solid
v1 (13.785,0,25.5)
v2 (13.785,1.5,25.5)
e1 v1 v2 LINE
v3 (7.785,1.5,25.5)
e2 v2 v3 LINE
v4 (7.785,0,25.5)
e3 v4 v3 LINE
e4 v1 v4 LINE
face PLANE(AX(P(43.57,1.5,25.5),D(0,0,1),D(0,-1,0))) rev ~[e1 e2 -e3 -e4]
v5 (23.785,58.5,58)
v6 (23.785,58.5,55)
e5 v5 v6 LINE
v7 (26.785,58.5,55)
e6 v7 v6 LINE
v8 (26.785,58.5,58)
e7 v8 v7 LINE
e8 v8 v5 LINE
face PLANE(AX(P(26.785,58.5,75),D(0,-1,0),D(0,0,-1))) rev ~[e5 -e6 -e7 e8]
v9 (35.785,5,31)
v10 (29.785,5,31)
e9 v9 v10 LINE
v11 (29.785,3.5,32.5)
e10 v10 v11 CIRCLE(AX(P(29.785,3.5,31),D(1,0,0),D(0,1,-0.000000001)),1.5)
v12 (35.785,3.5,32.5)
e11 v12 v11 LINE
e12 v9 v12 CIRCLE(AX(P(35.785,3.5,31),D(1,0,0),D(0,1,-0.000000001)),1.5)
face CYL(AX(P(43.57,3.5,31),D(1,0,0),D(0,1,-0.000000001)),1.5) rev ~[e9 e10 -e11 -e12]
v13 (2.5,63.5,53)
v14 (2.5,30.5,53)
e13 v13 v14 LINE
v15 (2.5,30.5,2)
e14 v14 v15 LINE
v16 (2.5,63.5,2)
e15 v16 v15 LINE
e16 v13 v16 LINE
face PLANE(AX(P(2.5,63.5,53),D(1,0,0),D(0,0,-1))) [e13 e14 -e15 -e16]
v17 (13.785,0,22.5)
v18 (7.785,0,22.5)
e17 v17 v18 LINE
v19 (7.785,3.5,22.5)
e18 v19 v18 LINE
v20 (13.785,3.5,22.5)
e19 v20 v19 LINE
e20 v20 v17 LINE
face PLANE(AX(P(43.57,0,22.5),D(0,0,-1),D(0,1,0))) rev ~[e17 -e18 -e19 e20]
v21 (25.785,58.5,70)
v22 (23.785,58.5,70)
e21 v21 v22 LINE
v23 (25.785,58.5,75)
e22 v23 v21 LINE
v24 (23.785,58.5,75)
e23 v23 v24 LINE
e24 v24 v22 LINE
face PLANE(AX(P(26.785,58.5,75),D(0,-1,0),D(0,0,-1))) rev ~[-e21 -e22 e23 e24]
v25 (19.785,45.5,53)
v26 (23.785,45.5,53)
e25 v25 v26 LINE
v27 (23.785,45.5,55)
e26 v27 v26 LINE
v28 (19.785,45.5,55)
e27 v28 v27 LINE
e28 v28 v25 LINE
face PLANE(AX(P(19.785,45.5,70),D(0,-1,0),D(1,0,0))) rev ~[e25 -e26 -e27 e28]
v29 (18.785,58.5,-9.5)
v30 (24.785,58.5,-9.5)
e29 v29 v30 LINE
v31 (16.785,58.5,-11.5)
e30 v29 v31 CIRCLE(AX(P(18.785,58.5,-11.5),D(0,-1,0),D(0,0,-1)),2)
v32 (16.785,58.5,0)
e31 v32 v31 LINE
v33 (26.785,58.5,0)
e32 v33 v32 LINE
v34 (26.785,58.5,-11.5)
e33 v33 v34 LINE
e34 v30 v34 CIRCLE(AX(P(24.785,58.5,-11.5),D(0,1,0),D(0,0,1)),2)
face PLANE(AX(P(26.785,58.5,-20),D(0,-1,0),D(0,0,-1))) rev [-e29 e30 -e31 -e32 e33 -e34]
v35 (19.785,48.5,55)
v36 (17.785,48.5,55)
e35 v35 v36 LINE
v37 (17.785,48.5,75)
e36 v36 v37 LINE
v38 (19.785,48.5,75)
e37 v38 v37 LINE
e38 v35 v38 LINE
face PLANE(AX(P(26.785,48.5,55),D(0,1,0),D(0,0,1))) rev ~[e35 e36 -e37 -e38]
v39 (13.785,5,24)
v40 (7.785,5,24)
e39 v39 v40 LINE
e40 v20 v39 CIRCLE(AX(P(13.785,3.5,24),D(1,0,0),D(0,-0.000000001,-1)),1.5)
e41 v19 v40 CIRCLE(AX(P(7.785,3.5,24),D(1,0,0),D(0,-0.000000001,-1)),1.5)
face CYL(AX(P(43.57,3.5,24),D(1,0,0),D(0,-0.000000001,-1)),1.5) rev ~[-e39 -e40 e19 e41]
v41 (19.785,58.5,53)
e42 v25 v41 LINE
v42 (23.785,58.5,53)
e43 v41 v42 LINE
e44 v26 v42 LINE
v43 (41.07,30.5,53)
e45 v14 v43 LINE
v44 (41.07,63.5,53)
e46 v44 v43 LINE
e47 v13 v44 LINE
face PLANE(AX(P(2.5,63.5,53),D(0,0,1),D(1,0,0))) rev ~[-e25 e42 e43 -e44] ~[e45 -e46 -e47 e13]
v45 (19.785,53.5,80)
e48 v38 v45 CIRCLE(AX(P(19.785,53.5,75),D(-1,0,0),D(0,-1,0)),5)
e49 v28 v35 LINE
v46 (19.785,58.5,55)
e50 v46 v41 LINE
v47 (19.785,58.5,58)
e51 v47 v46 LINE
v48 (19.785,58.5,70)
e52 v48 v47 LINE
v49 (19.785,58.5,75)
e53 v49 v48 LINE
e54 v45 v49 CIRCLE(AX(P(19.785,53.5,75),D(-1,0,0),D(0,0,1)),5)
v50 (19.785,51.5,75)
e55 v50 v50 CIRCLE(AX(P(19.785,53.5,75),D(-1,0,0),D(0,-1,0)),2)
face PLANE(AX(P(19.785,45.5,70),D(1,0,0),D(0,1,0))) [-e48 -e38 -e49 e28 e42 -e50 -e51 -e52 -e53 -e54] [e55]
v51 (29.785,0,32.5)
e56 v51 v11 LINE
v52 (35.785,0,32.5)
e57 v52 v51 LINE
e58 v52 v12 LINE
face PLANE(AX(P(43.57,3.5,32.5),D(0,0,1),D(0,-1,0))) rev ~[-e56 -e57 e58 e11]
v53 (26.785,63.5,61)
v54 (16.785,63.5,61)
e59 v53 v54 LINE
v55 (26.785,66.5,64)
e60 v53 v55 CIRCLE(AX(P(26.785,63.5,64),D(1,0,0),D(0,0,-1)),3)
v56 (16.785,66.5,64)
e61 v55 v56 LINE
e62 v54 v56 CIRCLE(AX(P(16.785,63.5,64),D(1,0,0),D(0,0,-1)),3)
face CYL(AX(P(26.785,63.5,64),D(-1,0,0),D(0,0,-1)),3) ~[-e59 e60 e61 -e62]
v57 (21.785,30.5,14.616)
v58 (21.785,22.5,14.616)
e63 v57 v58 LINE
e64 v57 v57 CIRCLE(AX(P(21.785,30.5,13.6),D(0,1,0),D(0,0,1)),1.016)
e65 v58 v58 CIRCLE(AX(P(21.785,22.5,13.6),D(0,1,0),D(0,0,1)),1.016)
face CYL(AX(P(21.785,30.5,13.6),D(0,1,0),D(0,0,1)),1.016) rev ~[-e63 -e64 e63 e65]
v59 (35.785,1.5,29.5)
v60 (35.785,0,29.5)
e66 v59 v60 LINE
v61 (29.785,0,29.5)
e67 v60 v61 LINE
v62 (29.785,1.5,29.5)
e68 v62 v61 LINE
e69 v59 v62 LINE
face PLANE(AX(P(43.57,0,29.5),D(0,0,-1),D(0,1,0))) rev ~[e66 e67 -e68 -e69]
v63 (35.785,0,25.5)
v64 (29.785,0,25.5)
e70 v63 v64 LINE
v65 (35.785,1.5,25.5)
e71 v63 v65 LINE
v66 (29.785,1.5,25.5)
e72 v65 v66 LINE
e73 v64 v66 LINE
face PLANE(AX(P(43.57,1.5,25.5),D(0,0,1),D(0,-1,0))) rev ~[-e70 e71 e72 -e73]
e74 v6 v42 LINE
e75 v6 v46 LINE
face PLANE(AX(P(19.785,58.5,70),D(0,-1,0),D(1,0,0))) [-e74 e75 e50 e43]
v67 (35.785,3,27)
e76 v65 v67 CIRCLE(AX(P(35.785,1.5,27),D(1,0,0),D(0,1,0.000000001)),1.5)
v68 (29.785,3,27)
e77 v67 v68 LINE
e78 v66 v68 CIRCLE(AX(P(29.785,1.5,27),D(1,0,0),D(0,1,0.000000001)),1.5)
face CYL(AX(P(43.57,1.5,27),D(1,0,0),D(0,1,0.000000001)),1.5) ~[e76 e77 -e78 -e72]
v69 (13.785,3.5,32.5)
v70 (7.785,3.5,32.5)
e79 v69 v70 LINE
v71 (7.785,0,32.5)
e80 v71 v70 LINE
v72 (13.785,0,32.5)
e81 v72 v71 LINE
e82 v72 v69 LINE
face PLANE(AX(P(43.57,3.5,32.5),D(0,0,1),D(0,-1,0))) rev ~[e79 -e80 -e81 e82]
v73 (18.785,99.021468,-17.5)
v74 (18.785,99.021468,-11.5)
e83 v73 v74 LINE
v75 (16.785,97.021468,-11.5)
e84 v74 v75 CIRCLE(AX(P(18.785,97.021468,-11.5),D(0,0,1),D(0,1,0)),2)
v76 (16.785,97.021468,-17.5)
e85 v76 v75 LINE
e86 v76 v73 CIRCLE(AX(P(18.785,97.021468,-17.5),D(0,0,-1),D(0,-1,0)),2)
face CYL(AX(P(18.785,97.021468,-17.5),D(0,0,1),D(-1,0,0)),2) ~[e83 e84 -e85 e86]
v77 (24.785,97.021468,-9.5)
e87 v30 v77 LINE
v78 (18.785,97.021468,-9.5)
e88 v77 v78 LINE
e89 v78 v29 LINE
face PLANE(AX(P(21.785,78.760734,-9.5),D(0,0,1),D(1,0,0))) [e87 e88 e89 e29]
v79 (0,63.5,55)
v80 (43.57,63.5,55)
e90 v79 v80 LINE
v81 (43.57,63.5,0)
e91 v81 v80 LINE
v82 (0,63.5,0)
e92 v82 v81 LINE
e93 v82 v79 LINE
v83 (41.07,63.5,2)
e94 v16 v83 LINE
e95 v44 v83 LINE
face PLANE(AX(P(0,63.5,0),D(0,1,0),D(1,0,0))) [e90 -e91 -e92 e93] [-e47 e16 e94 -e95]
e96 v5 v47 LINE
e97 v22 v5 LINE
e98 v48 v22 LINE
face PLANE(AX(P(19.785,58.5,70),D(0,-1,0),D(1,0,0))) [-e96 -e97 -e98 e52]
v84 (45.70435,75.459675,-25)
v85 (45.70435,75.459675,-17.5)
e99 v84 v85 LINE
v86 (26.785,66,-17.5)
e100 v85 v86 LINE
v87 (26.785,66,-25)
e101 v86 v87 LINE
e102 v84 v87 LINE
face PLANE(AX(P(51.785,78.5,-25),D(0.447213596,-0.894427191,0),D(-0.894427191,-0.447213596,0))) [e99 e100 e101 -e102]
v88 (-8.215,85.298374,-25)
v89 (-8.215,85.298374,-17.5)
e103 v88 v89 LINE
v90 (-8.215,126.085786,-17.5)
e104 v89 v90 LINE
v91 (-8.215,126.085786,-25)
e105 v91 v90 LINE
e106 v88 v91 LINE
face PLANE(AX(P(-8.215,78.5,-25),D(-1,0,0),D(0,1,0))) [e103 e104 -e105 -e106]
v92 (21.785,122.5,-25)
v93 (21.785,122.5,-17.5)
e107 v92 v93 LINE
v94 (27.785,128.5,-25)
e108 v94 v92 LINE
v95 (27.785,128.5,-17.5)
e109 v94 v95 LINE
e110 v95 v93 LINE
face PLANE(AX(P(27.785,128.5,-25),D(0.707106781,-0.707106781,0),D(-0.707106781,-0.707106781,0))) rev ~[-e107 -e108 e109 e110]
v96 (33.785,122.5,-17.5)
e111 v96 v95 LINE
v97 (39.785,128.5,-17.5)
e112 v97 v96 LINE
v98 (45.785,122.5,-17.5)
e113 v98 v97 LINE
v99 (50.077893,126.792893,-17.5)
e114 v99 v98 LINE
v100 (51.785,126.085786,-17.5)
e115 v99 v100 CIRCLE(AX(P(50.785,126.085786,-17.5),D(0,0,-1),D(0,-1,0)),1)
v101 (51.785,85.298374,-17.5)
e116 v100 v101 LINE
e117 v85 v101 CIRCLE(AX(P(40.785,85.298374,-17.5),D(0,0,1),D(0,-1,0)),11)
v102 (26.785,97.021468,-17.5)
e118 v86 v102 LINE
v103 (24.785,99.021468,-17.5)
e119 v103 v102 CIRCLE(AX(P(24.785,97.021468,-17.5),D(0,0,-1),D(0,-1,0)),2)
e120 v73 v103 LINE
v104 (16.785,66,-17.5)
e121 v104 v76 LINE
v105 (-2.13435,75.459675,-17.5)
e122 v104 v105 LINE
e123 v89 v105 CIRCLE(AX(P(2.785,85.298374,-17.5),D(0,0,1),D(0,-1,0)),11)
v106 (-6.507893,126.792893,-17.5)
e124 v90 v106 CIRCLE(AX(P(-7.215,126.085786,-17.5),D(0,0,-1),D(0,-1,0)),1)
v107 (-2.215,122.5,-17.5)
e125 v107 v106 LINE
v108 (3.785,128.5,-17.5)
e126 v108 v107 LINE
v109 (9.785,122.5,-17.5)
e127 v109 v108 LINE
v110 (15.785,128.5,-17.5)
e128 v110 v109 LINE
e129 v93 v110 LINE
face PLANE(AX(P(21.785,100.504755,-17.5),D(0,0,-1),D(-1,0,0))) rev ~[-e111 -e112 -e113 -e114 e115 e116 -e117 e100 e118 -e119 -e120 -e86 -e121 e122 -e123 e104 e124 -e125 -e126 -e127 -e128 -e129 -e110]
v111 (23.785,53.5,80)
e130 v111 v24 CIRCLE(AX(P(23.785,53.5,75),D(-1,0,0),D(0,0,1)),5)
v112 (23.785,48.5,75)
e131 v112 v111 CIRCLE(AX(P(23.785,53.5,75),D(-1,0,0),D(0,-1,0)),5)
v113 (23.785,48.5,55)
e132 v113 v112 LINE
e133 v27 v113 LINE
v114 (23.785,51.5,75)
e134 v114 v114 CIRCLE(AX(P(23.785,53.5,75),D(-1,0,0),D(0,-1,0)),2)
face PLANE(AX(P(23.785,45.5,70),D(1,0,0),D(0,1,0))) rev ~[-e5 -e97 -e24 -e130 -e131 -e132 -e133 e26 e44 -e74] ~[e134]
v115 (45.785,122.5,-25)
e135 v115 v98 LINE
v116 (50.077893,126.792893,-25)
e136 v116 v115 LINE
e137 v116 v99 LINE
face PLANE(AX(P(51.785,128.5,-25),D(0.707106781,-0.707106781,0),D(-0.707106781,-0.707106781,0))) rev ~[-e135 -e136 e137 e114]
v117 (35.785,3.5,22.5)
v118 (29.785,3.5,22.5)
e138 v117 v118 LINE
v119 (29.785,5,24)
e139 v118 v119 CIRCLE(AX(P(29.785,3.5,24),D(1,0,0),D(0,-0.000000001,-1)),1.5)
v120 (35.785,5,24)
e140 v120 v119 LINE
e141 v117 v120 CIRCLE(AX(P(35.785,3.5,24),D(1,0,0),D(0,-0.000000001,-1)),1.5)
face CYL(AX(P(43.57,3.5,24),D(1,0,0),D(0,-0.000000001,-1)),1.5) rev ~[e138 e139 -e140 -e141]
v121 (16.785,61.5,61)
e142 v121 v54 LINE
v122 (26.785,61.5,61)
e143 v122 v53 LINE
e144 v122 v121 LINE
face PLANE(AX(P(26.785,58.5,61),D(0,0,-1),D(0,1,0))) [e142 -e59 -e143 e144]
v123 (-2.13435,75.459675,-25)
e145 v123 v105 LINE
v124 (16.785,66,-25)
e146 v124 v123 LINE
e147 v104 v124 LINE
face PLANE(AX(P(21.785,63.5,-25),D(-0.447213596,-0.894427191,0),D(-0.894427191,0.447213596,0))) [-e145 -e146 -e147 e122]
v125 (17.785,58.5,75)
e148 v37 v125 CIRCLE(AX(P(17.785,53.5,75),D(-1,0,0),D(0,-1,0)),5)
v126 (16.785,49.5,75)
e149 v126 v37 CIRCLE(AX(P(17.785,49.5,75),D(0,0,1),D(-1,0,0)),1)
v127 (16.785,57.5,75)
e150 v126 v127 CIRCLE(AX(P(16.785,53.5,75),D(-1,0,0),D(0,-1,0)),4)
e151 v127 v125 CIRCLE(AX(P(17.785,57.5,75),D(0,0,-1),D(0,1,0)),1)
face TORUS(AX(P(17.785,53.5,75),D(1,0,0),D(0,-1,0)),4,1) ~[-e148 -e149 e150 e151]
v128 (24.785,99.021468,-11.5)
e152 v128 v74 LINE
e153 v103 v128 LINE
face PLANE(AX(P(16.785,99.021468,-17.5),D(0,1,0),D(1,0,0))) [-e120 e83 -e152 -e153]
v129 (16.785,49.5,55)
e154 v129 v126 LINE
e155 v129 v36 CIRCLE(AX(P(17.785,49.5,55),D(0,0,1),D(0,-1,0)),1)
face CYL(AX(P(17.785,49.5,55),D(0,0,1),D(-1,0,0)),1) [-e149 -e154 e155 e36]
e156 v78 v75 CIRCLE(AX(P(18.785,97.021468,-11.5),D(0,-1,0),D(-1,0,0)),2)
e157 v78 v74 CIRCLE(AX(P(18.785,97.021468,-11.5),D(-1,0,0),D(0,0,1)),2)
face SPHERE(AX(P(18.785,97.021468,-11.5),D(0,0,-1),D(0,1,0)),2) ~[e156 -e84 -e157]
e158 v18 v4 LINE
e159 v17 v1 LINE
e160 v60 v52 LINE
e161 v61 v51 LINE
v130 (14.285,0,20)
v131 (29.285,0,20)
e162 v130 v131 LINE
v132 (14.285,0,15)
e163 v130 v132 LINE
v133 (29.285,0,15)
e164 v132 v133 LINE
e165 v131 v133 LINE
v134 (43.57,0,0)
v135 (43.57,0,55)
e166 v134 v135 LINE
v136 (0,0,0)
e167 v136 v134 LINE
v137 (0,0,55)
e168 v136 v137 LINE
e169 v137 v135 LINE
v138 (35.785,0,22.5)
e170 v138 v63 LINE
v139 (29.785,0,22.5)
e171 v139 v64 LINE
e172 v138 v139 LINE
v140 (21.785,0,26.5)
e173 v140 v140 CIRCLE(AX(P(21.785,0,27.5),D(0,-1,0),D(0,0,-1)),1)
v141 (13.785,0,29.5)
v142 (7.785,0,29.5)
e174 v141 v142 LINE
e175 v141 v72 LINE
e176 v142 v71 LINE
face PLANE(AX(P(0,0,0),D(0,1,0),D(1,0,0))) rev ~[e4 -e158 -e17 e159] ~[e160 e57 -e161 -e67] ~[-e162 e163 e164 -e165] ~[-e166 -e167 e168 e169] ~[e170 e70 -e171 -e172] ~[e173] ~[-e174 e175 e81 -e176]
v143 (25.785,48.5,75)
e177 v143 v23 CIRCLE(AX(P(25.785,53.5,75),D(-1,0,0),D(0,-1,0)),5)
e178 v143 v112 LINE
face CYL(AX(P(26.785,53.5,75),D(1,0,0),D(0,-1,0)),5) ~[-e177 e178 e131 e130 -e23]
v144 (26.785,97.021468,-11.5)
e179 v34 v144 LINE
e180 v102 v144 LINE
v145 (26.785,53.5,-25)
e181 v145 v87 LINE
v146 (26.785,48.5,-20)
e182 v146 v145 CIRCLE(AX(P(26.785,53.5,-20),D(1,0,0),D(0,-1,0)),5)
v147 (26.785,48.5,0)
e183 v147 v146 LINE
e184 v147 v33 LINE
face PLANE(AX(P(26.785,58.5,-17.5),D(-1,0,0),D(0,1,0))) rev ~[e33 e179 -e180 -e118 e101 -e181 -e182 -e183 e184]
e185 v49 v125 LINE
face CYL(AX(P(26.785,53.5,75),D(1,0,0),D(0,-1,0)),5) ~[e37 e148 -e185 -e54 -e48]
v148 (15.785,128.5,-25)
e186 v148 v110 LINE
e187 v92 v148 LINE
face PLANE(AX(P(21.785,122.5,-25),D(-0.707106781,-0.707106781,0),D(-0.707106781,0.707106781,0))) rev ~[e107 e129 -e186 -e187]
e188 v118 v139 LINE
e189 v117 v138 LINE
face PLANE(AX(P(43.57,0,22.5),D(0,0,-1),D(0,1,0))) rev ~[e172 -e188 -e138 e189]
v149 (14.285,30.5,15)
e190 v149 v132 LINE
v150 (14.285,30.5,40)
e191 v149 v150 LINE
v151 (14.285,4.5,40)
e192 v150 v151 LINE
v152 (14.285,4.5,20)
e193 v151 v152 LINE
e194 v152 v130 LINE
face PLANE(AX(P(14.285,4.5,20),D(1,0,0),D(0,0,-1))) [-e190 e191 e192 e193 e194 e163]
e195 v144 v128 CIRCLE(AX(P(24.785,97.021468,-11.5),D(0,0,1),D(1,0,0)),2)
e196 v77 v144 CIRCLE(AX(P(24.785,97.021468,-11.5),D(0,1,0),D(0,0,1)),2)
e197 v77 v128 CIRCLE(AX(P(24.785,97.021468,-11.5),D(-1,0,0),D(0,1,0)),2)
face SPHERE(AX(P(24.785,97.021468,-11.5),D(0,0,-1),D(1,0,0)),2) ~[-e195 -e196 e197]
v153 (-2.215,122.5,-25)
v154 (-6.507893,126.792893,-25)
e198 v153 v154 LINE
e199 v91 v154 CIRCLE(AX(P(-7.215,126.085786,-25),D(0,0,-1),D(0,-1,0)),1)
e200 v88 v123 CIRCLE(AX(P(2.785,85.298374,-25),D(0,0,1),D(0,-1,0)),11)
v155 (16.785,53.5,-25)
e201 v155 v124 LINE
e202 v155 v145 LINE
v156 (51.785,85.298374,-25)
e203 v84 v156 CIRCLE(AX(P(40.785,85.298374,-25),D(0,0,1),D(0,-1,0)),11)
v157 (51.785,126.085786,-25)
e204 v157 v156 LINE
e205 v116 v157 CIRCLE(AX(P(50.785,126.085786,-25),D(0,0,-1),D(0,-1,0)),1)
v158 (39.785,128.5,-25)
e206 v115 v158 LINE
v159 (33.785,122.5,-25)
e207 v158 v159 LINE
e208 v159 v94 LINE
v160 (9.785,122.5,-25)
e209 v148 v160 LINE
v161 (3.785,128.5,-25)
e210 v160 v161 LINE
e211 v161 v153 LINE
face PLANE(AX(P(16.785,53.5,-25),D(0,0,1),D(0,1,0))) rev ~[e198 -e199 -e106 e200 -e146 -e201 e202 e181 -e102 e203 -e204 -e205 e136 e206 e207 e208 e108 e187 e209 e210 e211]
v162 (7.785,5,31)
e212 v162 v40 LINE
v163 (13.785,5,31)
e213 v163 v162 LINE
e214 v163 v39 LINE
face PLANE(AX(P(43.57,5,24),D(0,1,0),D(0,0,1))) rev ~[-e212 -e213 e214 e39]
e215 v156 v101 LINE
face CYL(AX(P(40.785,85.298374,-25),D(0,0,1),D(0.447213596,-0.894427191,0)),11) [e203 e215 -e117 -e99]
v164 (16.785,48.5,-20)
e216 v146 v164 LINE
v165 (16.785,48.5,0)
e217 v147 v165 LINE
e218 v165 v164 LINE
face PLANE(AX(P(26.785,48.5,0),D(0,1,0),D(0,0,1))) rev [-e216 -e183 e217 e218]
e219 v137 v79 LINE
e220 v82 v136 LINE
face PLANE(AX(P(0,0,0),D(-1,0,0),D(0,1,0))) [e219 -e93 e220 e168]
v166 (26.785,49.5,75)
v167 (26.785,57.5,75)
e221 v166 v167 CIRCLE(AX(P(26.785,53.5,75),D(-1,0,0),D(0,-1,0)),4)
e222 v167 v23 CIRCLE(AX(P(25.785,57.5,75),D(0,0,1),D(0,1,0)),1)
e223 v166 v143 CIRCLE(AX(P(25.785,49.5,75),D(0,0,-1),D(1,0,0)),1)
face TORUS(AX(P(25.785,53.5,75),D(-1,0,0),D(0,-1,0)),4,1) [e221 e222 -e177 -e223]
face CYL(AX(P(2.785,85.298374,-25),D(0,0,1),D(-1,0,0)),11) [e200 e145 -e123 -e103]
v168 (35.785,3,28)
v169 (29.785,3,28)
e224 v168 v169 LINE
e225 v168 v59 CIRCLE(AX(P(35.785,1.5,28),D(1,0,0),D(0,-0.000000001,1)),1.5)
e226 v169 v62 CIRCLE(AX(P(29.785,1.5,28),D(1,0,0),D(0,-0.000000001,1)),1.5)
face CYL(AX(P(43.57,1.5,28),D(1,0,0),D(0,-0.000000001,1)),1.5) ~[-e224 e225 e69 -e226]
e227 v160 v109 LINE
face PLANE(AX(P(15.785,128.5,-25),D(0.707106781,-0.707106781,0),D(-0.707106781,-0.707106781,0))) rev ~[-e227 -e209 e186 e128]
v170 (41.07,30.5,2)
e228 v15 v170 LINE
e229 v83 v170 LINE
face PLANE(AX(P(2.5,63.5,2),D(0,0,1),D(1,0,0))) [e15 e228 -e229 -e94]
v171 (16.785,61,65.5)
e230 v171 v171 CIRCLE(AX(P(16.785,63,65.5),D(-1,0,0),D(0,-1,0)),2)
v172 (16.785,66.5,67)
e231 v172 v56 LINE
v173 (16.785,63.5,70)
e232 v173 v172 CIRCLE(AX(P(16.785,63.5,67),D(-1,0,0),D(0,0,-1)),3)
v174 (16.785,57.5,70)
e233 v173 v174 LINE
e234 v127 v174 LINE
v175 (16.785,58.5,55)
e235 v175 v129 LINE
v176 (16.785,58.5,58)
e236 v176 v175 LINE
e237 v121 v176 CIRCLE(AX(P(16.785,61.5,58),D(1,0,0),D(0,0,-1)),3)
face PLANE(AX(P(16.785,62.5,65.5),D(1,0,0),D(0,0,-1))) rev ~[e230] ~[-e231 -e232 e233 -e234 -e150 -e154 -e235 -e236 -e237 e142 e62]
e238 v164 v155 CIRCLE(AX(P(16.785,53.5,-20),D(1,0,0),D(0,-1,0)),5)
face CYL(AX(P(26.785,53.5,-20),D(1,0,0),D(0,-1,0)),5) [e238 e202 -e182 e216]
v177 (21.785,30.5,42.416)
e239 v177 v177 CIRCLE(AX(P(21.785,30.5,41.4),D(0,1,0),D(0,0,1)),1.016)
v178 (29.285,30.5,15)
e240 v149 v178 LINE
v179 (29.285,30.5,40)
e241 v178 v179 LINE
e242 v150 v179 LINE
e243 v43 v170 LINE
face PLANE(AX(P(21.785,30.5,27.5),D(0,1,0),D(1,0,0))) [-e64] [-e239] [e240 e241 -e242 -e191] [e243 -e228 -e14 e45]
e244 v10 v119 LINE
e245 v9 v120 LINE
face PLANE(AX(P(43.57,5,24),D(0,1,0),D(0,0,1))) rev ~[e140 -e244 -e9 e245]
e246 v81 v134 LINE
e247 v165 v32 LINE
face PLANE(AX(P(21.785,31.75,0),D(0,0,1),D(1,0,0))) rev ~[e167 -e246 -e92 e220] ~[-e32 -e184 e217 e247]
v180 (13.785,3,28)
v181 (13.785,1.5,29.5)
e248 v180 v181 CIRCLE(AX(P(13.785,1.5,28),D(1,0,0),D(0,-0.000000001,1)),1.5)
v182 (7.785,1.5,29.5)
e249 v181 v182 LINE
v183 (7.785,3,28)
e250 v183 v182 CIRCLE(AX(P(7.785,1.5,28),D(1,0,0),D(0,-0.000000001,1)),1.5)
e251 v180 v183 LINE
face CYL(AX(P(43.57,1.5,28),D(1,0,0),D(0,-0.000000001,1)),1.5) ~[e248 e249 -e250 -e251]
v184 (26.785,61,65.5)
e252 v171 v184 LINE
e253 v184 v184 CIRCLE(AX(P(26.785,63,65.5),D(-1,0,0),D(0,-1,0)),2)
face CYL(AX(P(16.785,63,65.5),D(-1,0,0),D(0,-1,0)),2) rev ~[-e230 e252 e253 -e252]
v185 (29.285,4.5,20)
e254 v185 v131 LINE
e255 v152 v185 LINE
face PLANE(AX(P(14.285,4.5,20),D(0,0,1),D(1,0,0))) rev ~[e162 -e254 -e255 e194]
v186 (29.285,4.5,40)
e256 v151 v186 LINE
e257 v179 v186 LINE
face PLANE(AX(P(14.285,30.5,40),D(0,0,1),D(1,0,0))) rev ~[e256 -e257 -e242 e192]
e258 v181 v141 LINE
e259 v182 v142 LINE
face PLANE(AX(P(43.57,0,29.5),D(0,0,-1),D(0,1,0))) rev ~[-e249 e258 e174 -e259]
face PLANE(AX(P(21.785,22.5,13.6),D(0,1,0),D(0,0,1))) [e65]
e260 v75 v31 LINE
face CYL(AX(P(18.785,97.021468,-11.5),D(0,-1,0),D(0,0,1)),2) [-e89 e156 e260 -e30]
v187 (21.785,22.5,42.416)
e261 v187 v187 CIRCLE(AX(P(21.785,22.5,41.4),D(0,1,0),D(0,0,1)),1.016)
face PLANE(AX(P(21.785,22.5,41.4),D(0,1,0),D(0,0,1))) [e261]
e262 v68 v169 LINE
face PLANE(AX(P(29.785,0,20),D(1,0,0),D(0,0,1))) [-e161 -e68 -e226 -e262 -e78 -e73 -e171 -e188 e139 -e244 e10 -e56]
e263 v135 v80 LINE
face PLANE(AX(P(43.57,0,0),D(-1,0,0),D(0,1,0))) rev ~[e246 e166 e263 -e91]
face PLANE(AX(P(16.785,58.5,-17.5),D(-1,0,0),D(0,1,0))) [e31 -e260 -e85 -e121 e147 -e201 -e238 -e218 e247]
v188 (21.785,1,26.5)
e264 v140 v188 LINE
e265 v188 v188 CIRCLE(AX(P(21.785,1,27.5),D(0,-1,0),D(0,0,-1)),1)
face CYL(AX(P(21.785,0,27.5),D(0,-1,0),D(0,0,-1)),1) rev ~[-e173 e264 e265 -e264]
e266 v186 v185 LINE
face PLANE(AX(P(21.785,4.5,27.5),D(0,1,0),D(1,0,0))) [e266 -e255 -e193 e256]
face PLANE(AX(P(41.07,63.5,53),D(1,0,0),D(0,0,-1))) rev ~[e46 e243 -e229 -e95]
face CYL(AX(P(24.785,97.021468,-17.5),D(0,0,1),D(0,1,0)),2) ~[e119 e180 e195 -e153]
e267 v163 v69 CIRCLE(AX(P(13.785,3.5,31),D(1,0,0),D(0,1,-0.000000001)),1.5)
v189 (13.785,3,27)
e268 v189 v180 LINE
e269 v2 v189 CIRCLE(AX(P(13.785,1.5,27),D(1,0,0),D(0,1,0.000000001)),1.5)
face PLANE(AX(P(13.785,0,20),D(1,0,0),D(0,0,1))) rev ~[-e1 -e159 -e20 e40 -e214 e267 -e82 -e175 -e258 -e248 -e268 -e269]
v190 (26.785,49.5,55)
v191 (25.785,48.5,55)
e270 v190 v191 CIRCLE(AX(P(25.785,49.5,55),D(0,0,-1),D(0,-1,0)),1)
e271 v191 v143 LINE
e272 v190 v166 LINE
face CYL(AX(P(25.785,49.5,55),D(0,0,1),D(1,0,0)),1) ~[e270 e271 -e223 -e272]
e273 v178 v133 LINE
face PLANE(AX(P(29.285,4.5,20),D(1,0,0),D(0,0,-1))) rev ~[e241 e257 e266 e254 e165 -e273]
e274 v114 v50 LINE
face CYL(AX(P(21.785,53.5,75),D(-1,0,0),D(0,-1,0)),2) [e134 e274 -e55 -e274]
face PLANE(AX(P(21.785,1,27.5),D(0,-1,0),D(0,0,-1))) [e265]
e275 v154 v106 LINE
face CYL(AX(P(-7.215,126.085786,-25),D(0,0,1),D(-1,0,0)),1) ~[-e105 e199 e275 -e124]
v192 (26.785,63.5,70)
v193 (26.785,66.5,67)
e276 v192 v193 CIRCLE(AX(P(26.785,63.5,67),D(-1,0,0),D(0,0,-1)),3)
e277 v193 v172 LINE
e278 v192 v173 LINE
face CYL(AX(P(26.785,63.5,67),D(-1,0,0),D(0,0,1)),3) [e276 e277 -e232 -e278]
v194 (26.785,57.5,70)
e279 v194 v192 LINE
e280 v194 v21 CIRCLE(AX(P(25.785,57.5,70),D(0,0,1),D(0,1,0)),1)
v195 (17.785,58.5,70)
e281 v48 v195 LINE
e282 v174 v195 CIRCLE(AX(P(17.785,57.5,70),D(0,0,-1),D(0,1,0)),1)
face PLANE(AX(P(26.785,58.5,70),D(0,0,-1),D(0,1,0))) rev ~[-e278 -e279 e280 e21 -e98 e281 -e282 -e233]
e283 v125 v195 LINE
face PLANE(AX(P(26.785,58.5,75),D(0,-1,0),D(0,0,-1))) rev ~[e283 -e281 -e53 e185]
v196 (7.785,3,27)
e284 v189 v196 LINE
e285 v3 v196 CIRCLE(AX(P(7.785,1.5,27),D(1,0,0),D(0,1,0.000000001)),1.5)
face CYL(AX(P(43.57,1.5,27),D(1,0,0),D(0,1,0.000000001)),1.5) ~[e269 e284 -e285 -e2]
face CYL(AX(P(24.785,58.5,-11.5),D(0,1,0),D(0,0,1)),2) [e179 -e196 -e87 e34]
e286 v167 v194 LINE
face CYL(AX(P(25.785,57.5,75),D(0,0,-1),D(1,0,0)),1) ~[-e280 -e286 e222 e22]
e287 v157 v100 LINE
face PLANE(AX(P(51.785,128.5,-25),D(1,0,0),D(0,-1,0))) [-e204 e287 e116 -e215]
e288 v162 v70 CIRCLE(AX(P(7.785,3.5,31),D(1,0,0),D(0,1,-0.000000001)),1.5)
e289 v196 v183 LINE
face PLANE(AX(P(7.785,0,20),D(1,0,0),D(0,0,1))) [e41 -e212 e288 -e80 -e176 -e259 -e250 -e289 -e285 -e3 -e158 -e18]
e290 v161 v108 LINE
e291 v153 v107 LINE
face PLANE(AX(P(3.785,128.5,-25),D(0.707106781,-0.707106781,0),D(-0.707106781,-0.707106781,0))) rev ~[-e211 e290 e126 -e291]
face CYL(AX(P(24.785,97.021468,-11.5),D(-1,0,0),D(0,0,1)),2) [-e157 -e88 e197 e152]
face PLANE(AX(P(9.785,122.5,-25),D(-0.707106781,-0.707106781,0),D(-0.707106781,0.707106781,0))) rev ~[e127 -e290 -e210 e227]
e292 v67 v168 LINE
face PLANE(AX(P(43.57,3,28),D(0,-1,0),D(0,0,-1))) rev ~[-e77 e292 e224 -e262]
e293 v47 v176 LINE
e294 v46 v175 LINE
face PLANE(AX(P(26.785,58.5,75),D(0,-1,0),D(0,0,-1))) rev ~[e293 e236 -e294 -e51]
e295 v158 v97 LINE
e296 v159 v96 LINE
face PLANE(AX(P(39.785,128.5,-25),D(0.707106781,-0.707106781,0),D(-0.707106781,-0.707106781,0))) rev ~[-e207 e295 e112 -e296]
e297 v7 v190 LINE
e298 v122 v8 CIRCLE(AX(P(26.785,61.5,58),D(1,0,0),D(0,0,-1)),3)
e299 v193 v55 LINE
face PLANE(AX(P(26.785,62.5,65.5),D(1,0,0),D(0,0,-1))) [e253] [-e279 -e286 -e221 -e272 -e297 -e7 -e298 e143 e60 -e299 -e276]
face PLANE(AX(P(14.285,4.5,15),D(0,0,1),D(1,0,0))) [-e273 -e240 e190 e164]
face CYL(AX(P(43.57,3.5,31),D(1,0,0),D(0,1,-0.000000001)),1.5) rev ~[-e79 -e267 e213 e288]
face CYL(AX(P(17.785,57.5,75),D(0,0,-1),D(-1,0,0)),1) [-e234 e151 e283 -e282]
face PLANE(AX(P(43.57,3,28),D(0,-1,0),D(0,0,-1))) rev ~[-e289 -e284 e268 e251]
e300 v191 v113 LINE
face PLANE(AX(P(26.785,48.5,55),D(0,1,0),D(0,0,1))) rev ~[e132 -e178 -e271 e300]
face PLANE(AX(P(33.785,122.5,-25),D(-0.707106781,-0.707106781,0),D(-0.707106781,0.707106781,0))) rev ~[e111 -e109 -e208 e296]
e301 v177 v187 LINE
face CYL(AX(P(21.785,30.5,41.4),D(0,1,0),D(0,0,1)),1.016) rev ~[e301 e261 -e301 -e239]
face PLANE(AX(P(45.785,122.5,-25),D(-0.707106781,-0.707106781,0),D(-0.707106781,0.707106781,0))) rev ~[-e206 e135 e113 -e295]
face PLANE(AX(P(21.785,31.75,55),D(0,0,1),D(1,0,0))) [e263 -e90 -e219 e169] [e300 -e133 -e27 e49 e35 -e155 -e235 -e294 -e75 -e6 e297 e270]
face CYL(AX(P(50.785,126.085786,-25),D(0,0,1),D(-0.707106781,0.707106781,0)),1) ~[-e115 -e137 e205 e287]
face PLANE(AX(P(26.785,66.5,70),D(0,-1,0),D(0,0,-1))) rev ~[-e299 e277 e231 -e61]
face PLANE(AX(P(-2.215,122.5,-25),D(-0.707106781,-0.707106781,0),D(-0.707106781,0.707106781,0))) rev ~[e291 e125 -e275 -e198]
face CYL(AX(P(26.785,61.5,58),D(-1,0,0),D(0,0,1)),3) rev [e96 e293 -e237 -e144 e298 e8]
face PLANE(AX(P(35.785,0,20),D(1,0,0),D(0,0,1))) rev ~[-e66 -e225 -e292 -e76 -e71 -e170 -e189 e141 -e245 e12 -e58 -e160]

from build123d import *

# Parameters (mm, degrees)
SKETCH1_W           = 43.57
SKETCH1_H           = 63.5
BOSS_EXTRUDE1_DEPTH = 55
CUT_EXTRUDE2_DEPTH  = 95.634004988
SKETCH4_W           = 43.57
SKETCH4_H           = 55
SKETCH4_W_2         = 6
SKETCH4_H_2         = 15
BOSS_EXTRUDE2_DEPTH = 9
SKETCH5_R           = 1
CUT_EXTRUDE3_DEPTH  = 1
BOSS_EXTRUDE3_START = -26.785
BOSS_EXTRUDE3_DEPTH = 10
SKETCH7_R           = 2
CUT_EXTRUDE4_DEPTH  = 2
SKETCH13_W          = 9
SKETCH13_H          = 8
BOSS_EXTRUDE6_DEPTH = 10
FILLET12_R          = 3
FILLET2_R           = 1
BOSS_EXTRUDE4_DEPTH = 10
BOSS_EXTRUDE5_DEPTH = 7.5
CUT_EXTRUDE11_DEPTH = 174.835946297
LPATTERN1_COUNT     = 5
LPATTERN1_PITCH     = 12
FILLET9_R           = 1
FILLET11_R          = 11
SKETCH14_R          = 2
CUT_EXTRUDE12_DEPTH = 156.361674811
SKETCH15_W          = 15
SKETCH15_H          = 33
CUT_EXTRUDE13_DEPTH = 33
SKETCH16_W          = 15
SKETCH16_H          = 25
CUT_EXTRUDE14_DEPTH = 26
SKETCH18_R          = 1.016
CUT_EXTRUDE15_DEPTH = 8
SKETCH19_W          = 15
SKETCH19_H          = 5
CUT_EXTRUDE16_DEPTH = 25
SKETCH20_W          = 38.57
SKETCH20_H          = 51
CUT_EXTRUDE17_DEPTH = 33
SKETCH21_W          = 4
SKETCH21_H          = 13
CUT_EXTRUDE18_DEPTH = 27
SKETCH22_W          = 10
SKETCH22_H          = 40.521468164
BOSS_EXTRUDE7_DEPTH = 8
FILLET13_R          = 2
FILLET14_R          = 2


with BuildPart() as part:
    # Sketch1 → Boss-Extrude1 (new body)
    with BuildSketch(Plane.XY):
        with Locations((21.785, 31.75)):
            Rectangle(SKETCH1_W, SKETCH1_H)
    extrude(amount=BOSS_EXTRUDE1_DEPTH)

    # Sketch3 → Cut-Extrude2 (cut, through all)
    with BuildSketch(Plane(origin=(43.57, 0, 0), x_dir=(0, 0, -1), z_dir=(1, 0, 0))):
        with BuildLine():
            Line((-29.5, 0), (-29.5, 1.5))
            ThreePointArc((-29.5, 1.5), (-29.060660172, 2.560660172), (-28, 3))
            Line((-28, 3), (-27, 3))
            ThreePointArc((-27, 3), (-25.939339828, 2.560660172), (-25.5, 1.5))
            Line((-25.5, 1.5), (-25.5, 0))
            Line((-25.5, 0), (-22.5, 0))
            Line((-22.5, 0), (-22.5, 3.5))
            ThreePointArc((-22.5, 3.5), (-22.939339828, 4.560660172), (-24, 5))
            Line((-24, 5), (-31, 5))
            ThreePointArc((-31, 5), (-32.060660172, 4.560660172), (-32.5, 3.5))
            Line((-32.5, 3.5), (-32.5, 0))
            Line((-32.5, 0), (-29.5, 0))
        make_face()
    extrude(amount=-CUT_EXTRUDE2_DEPTH, mode=Mode.SUBTRACT)


with BuildPart() as cut_extrude2_piece_1:
    # of the separate pieces the step leaves, piece 1, a body of its own (cut_extrude2_pieces)
    add(part.part.solids().sort_by_distance((0, 0, 0))[0])



with BuildPart() as cut_extrude2_piece_2:
    # of the separate pieces the step leaves, piece 2, a body of its own (cut_extrude2_pieces)
    add(part.part.solids().sort_by_distance((43.57, 0, 25.5))[0])


with BuildPart() as cut_extrude2_piece_1_1:
    add(cut_extrude2_piece_1.part)

    add(cut_extrude2_piece_2.part)  # Boss-Extrude2 merges Cut-Extrude2 piece 2
    # Sketch4 → Boss-Extrude2 (add)
    with BuildSketch(Plane.XZ):
        with Locations((21.785, 27.5)):
            Rectangle(SKETCH4_W, SKETCH4_H)
        with Locations((10.785, 27.5)):
            Rectangle(SKETCH4_W_2, SKETCH4_H_2, mode=Mode.SUBTRACT)
        with Locations((32.785, 27.5)):
            Rectangle(SKETCH4_W_2, SKETCH4_H_2, mode=Mode.SUBTRACT)
    extrude(amount=-BOSS_EXTRUDE2_DEPTH)

    # Sketch5 → Cut-Extrude3 (cut)
    with BuildSketch(Plane(origin=(0, 0, 0), x_dir=(-1, 0, 0), z_dir=(0, -1, 0))):
        with Locations(Location((-21.785, -27.5, 0), (0, 0, 90))):
            Circle(SKETCH5_R)
    extrude(amount=-CUT_EXTRUDE3_DEPTH, mode=Mode.SUBTRACT)

    # Sketch6 → Boss-Extrude3 (add)
    with BuildSketch(Plane.ZY.offset(BOSS_EXTRUDE3_START)):
        with BuildLine():
            Line((55, 48.5), (75, 48.5))
            ThreePointArc((75, 48.5), (80, 53.5), (75, 58.5))
            Line((75, 58.5), (55, 58.5))
            ThreePointArc((55, 58.5), (50, 53.5), (55, 48.5))
        make_face()
    boss_extrude3 = extrude(amount=BOSS_EXTRUDE3_DEPTH)

    # Mirror1: Boss-Extrude3 across plane
    add(boss_extrude3.mirror(Plane(origin=(0, 0, 27.5), x_dir=(1, 0, 0), z_dir=(0, 0, -1))))

    # Sketch7 → Cut-Extrude4 (cut, symmetric)
    # profile 1 of 3: a face of its own
    with BuildSketch(Plane.ZY.offset(-21.785)):
        with BuildLine():
            ThreePointArc((75, 58.5), (71.464466094, 57.035533906), (70, 53.5))
            ThreePointArc((70, 53.5), (71.464466094, 49.964466094), (75, 48.5))
            ThreePointArc((75, 48.5), (78.535533906, 49.964466094), (80, 53.5))
            ThreePointArc((80, 53.5), (78.535533906, 57.035533906), (75, 58.5))
        make_face()
        with Locations(Location((75, 53.5, 0), (0, 0, 270))):
            Circle(SKETCH7_R, mode=Mode.SUBTRACT)
    # profile 2 of 3: a face of its own
    with BuildSketch(Plane.ZY.offset(-21.785)):
        with BuildLine():
            Line((70, 58.5), (70, 53.5))
            ThreePointArc((70, 53.5), (71.464466094, 57.035533906), (75, 58.5))
            Line((75, 58.5), (70, 58.5))
        make_face()
    # profile 3 of 3: a face of its own
    with BuildSketch(Plane.ZY.offset(-21.785)):
        with BuildLine():
            ThreePointArc((75, 48.5), (71.464466094, 49.964466094), (70, 53.5))
            Line((70, 53.5), (70, 48.5))
            Line((70, 48.5), (75, 48.5))
        make_face()
    extrude(amount=CUT_EXTRUDE4_DEPTH, both=True, mode=Mode.SUBTRACT)

    # Sketch13 → Boss-Extrude6 (add)
    with BuildSketch(Plane(origin=(26.785, 0, 0), x_dir=(0, 0, -1), z_dir=(1, 0, 0))):
        with Locations((-65.5, 62.5)):
            Rectangle(SKETCH13_W, SKETCH13_H)
    extrude(amount=-BOSS_EXTRUDE6_DEPTH)

    # Fillet12
    fillet12_edges = [cut_extrude2_piece_1_1.edges().sort_by_distance(p)[0] for p in [
        (21.785, 66.5, 61),
        (21.785, 66.5, 70),
        (21.785, 58.5, 61),
    ]]
    fillet(fillet12_edges, radius=FILLET12_R)

    # Fillet2
    fillet2_edges = [cut_extrude2_piece_1_1.edges().sort_by_distance(p)[0] for p in [
        (16.785, 48.5, 65),
        (16.785, 53.5, 80),
        (16.785, 58.5, 72.5),
        (26.785, 48.5, 65),
        (26.785, 53.5, 80),
        (26.785, 58.5, 72.5),
    ]]
    fillet(fillet2_edges, radius=FILLET2_R)

    # Sketch10 → Boss-Extrude4 (add)
    with BuildSketch(Plane.ZY.offset(-16.785)):
        with BuildLine():
            Line((-25, 53.5), (-25, 78.5))
            Line((-25, 78.5), (-17.5, 78.5))
            Line((-17.5, 78.5), (-17.5, 58.5))
            Line((-17.5, 58.5), (-20, 58.5))
            ThreePointArc((-20, 58.5), (-23.535533906, 57.035533906), (-25, 53.5))
        make_face()
    extrude(amount=-BOSS_EXTRUDE4_DEPTH)

    # Sketch11 → Boss-Extrude5 (add)
    with BuildSketch(Plane(origin=(0, 0, -25), x_dir=(-1, 0, 0), z_dir=(0, 0, -1))):
        Polygon((-21.785, 63.5), (8.215, 78.5), (8.215, 128.5), (-51.785, 128.5), (-51.785, 78.5), align=None)
    extrude(amount=-BOSS_EXTRUDE5_DEPTH)

    # Sketch12 → Cut-Extrude11 (cut, through all)
    with BuildSketch(Plane(origin=(0, 0, -25), x_dir=(-1, 0, 0), z_dir=(0, 0, -1))):
        Polygon((-51.785, 128.5), (-45.785, 122.5), (-39.785, 128.5), align=None)
    cut_extrude11 = extrude(amount=-CUT_EXTRUDE11_DEPTH, mode=Mode.SUBTRACT)

    # LPattern1: Cut-Extrude11 ×5
    with Locations(*[(-i * LPATTERN1_PITCH, 0, 0) for i in range(1, LPATTERN1_COUNT)]):
        add(cut_extrude11, mode=Mode.SUBTRACT)

    # Fillet9
    fillet9_edges = [cut_extrude2_piece_1_1.edges().sort_by_distance(p)[0] for p in [
        (-8.215, 128.5, -21.25),
        (51.785, 128.5, -21.25),
    ]]
    fillet(fillet9_edges, radius=FILLET9_R)

    # Fillet11
    fillet11_edges = [cut_extrude2_piece_1_1.edges().sort_by_distance(p)[0] for p in [
        (-8.215, 78.5, -21.25),
        (51.785, 78.5, -21.25),
    ]]
    fillet(fillet11_edges, radius=FILLET11_R)

    # Sketch14 → Cut-Extrude12 (cut, through all)
    with BuildSketch(Plane.ZY.offset(-16.785)):
        with Locations(Location((65.5, 63, 0), (0, 0, 270))):
            Circle(SKETCH14_R)
    extrude(amount=-CUT_EXTRUDE12_DEPTH, mode=Mode.SUBTRACT)

    # Sketch15 → Cut-Extrude13 (cut)
    with BuildSketch(Plane(origin=(0, 63.5, 0), x_dir=(1, 0, 0), z_dir=(0, 1, 0))):
        with Locations((21.785, -27.5)):
            Rectangle(SKETCH15_W, SKETCH15_H)
    extrude(amount=-CUT_EXTRUDE13_DEPTH, mode=Mode.SUBTRACT)

    # Sketch16 → Cut-Extrude14 (cut)
    with BuildSketch(Plane(origin=(0, 30.5, 0), x_dir=(1, 0, 0), z_dir=(0, 1, 0))):
        with Locations((21.785, -27.5)):
            Rectangle(SKETCH16_W, SKETCH16_H)
    extrude(amount=-CUT_EXTRUDE14_DEPTH, mode=Mode.SUBTRACT)

    # Sketch18 → Cut-Extrude15 (cut)
    with BuildSketch(Plane(origin=(0, 30.5, 0), x_dir=(1, 0, 0), z_dir=(0, 1, 0))):
        with Locations(Location((21.785, -13.6, 0), (0, 0, 270))):
            Circle(SKETCH18_R)
        with Locations(Location((21.785, -41.4, 0), (0, 0, 270))):
            Circle(SKETCH18_R)
    extrude(amount=-CUT_EXTRUDE15_DEPTH, mode=Mode.SUBTRACT)

    # Sketch19 → Cut-Extrude16 (cut)
    with BuildSketch(Plane(origin=(0, 4.5, 0), x_dir=(1, 0, 0), z_dir=(0, 1, 0))):
        with Locations((21.785, -17.5)):
            Rectangle(SKETCH19_W, SKETCH19_H)
    extrude(amount=-CUT_EXTRUDE16_DEPTH, mode=Mode.SUBTRACT)

    # Sketch20 → Cut-Extrude17 (cut)
    with BuildSketch(Plane(origin=(0, 63.5, 0), x_dir=(1, 0, 0), z_dir=(0, 1, 0))):
        with Locations((21.785, -27.5)):
            Rectangle(SKETCH20_W, SKETCH20_H)
    extrude(amount=-CUT_EXTRUDE17_DEPTH, mode=Mode.SUBTRACT)

    # Sketch21 → Cut-Extrude18 (cut)
    with BuildSketch(Plane.XY.offset(70)):
        with Locations((21.785, 52)):
            Rectangle(SKETCH21_W, SKETCH21_H)
    extrude(amount=-CUT_EXTRUDE18_DEPTH, mode=Mode.SUBTRACT)

    # Sketch22 → Boss-Extrude7 (add)
    with BuildSketch(Plane.XY.offset(-17.5)):
        with Locations((21.785, 78.760734082)):
            Rectangle(SKETCH22_W, SKETCH22_H)
    extrude(amount=BOSS_EXTRUDE7_DEPTH)

    # Fillet13
    fillet13_edges = [cut_extrude2_piece_1_1.edges().sort_by_distance(p)[0] for p in [
        (16.785, 99.021468164, -13.5),
        (26.785, 99.021468164, -13.5),
    ]]
    fillet(fillet13_edges, radius=FILLET13_R)

    # Fillet14
    fillet14_edges = [cut_extrude2_piece_1_1.edges().sort_by_distance(p)[0] for p in [
        (26.785, 77.760734082, -9.5),
        (21.785, 99.021468164, -9.5),
        (16.785, 77.760734082, -9.5),
        (17.370786438, 98.435681727, -9.5),
        (26.199213562, 98.435681727, -9.5),
    ]]
    fillet(fillet14_edges, radius=FILLET14_R)


solid = cut_extrude2_piece_1_1.part
